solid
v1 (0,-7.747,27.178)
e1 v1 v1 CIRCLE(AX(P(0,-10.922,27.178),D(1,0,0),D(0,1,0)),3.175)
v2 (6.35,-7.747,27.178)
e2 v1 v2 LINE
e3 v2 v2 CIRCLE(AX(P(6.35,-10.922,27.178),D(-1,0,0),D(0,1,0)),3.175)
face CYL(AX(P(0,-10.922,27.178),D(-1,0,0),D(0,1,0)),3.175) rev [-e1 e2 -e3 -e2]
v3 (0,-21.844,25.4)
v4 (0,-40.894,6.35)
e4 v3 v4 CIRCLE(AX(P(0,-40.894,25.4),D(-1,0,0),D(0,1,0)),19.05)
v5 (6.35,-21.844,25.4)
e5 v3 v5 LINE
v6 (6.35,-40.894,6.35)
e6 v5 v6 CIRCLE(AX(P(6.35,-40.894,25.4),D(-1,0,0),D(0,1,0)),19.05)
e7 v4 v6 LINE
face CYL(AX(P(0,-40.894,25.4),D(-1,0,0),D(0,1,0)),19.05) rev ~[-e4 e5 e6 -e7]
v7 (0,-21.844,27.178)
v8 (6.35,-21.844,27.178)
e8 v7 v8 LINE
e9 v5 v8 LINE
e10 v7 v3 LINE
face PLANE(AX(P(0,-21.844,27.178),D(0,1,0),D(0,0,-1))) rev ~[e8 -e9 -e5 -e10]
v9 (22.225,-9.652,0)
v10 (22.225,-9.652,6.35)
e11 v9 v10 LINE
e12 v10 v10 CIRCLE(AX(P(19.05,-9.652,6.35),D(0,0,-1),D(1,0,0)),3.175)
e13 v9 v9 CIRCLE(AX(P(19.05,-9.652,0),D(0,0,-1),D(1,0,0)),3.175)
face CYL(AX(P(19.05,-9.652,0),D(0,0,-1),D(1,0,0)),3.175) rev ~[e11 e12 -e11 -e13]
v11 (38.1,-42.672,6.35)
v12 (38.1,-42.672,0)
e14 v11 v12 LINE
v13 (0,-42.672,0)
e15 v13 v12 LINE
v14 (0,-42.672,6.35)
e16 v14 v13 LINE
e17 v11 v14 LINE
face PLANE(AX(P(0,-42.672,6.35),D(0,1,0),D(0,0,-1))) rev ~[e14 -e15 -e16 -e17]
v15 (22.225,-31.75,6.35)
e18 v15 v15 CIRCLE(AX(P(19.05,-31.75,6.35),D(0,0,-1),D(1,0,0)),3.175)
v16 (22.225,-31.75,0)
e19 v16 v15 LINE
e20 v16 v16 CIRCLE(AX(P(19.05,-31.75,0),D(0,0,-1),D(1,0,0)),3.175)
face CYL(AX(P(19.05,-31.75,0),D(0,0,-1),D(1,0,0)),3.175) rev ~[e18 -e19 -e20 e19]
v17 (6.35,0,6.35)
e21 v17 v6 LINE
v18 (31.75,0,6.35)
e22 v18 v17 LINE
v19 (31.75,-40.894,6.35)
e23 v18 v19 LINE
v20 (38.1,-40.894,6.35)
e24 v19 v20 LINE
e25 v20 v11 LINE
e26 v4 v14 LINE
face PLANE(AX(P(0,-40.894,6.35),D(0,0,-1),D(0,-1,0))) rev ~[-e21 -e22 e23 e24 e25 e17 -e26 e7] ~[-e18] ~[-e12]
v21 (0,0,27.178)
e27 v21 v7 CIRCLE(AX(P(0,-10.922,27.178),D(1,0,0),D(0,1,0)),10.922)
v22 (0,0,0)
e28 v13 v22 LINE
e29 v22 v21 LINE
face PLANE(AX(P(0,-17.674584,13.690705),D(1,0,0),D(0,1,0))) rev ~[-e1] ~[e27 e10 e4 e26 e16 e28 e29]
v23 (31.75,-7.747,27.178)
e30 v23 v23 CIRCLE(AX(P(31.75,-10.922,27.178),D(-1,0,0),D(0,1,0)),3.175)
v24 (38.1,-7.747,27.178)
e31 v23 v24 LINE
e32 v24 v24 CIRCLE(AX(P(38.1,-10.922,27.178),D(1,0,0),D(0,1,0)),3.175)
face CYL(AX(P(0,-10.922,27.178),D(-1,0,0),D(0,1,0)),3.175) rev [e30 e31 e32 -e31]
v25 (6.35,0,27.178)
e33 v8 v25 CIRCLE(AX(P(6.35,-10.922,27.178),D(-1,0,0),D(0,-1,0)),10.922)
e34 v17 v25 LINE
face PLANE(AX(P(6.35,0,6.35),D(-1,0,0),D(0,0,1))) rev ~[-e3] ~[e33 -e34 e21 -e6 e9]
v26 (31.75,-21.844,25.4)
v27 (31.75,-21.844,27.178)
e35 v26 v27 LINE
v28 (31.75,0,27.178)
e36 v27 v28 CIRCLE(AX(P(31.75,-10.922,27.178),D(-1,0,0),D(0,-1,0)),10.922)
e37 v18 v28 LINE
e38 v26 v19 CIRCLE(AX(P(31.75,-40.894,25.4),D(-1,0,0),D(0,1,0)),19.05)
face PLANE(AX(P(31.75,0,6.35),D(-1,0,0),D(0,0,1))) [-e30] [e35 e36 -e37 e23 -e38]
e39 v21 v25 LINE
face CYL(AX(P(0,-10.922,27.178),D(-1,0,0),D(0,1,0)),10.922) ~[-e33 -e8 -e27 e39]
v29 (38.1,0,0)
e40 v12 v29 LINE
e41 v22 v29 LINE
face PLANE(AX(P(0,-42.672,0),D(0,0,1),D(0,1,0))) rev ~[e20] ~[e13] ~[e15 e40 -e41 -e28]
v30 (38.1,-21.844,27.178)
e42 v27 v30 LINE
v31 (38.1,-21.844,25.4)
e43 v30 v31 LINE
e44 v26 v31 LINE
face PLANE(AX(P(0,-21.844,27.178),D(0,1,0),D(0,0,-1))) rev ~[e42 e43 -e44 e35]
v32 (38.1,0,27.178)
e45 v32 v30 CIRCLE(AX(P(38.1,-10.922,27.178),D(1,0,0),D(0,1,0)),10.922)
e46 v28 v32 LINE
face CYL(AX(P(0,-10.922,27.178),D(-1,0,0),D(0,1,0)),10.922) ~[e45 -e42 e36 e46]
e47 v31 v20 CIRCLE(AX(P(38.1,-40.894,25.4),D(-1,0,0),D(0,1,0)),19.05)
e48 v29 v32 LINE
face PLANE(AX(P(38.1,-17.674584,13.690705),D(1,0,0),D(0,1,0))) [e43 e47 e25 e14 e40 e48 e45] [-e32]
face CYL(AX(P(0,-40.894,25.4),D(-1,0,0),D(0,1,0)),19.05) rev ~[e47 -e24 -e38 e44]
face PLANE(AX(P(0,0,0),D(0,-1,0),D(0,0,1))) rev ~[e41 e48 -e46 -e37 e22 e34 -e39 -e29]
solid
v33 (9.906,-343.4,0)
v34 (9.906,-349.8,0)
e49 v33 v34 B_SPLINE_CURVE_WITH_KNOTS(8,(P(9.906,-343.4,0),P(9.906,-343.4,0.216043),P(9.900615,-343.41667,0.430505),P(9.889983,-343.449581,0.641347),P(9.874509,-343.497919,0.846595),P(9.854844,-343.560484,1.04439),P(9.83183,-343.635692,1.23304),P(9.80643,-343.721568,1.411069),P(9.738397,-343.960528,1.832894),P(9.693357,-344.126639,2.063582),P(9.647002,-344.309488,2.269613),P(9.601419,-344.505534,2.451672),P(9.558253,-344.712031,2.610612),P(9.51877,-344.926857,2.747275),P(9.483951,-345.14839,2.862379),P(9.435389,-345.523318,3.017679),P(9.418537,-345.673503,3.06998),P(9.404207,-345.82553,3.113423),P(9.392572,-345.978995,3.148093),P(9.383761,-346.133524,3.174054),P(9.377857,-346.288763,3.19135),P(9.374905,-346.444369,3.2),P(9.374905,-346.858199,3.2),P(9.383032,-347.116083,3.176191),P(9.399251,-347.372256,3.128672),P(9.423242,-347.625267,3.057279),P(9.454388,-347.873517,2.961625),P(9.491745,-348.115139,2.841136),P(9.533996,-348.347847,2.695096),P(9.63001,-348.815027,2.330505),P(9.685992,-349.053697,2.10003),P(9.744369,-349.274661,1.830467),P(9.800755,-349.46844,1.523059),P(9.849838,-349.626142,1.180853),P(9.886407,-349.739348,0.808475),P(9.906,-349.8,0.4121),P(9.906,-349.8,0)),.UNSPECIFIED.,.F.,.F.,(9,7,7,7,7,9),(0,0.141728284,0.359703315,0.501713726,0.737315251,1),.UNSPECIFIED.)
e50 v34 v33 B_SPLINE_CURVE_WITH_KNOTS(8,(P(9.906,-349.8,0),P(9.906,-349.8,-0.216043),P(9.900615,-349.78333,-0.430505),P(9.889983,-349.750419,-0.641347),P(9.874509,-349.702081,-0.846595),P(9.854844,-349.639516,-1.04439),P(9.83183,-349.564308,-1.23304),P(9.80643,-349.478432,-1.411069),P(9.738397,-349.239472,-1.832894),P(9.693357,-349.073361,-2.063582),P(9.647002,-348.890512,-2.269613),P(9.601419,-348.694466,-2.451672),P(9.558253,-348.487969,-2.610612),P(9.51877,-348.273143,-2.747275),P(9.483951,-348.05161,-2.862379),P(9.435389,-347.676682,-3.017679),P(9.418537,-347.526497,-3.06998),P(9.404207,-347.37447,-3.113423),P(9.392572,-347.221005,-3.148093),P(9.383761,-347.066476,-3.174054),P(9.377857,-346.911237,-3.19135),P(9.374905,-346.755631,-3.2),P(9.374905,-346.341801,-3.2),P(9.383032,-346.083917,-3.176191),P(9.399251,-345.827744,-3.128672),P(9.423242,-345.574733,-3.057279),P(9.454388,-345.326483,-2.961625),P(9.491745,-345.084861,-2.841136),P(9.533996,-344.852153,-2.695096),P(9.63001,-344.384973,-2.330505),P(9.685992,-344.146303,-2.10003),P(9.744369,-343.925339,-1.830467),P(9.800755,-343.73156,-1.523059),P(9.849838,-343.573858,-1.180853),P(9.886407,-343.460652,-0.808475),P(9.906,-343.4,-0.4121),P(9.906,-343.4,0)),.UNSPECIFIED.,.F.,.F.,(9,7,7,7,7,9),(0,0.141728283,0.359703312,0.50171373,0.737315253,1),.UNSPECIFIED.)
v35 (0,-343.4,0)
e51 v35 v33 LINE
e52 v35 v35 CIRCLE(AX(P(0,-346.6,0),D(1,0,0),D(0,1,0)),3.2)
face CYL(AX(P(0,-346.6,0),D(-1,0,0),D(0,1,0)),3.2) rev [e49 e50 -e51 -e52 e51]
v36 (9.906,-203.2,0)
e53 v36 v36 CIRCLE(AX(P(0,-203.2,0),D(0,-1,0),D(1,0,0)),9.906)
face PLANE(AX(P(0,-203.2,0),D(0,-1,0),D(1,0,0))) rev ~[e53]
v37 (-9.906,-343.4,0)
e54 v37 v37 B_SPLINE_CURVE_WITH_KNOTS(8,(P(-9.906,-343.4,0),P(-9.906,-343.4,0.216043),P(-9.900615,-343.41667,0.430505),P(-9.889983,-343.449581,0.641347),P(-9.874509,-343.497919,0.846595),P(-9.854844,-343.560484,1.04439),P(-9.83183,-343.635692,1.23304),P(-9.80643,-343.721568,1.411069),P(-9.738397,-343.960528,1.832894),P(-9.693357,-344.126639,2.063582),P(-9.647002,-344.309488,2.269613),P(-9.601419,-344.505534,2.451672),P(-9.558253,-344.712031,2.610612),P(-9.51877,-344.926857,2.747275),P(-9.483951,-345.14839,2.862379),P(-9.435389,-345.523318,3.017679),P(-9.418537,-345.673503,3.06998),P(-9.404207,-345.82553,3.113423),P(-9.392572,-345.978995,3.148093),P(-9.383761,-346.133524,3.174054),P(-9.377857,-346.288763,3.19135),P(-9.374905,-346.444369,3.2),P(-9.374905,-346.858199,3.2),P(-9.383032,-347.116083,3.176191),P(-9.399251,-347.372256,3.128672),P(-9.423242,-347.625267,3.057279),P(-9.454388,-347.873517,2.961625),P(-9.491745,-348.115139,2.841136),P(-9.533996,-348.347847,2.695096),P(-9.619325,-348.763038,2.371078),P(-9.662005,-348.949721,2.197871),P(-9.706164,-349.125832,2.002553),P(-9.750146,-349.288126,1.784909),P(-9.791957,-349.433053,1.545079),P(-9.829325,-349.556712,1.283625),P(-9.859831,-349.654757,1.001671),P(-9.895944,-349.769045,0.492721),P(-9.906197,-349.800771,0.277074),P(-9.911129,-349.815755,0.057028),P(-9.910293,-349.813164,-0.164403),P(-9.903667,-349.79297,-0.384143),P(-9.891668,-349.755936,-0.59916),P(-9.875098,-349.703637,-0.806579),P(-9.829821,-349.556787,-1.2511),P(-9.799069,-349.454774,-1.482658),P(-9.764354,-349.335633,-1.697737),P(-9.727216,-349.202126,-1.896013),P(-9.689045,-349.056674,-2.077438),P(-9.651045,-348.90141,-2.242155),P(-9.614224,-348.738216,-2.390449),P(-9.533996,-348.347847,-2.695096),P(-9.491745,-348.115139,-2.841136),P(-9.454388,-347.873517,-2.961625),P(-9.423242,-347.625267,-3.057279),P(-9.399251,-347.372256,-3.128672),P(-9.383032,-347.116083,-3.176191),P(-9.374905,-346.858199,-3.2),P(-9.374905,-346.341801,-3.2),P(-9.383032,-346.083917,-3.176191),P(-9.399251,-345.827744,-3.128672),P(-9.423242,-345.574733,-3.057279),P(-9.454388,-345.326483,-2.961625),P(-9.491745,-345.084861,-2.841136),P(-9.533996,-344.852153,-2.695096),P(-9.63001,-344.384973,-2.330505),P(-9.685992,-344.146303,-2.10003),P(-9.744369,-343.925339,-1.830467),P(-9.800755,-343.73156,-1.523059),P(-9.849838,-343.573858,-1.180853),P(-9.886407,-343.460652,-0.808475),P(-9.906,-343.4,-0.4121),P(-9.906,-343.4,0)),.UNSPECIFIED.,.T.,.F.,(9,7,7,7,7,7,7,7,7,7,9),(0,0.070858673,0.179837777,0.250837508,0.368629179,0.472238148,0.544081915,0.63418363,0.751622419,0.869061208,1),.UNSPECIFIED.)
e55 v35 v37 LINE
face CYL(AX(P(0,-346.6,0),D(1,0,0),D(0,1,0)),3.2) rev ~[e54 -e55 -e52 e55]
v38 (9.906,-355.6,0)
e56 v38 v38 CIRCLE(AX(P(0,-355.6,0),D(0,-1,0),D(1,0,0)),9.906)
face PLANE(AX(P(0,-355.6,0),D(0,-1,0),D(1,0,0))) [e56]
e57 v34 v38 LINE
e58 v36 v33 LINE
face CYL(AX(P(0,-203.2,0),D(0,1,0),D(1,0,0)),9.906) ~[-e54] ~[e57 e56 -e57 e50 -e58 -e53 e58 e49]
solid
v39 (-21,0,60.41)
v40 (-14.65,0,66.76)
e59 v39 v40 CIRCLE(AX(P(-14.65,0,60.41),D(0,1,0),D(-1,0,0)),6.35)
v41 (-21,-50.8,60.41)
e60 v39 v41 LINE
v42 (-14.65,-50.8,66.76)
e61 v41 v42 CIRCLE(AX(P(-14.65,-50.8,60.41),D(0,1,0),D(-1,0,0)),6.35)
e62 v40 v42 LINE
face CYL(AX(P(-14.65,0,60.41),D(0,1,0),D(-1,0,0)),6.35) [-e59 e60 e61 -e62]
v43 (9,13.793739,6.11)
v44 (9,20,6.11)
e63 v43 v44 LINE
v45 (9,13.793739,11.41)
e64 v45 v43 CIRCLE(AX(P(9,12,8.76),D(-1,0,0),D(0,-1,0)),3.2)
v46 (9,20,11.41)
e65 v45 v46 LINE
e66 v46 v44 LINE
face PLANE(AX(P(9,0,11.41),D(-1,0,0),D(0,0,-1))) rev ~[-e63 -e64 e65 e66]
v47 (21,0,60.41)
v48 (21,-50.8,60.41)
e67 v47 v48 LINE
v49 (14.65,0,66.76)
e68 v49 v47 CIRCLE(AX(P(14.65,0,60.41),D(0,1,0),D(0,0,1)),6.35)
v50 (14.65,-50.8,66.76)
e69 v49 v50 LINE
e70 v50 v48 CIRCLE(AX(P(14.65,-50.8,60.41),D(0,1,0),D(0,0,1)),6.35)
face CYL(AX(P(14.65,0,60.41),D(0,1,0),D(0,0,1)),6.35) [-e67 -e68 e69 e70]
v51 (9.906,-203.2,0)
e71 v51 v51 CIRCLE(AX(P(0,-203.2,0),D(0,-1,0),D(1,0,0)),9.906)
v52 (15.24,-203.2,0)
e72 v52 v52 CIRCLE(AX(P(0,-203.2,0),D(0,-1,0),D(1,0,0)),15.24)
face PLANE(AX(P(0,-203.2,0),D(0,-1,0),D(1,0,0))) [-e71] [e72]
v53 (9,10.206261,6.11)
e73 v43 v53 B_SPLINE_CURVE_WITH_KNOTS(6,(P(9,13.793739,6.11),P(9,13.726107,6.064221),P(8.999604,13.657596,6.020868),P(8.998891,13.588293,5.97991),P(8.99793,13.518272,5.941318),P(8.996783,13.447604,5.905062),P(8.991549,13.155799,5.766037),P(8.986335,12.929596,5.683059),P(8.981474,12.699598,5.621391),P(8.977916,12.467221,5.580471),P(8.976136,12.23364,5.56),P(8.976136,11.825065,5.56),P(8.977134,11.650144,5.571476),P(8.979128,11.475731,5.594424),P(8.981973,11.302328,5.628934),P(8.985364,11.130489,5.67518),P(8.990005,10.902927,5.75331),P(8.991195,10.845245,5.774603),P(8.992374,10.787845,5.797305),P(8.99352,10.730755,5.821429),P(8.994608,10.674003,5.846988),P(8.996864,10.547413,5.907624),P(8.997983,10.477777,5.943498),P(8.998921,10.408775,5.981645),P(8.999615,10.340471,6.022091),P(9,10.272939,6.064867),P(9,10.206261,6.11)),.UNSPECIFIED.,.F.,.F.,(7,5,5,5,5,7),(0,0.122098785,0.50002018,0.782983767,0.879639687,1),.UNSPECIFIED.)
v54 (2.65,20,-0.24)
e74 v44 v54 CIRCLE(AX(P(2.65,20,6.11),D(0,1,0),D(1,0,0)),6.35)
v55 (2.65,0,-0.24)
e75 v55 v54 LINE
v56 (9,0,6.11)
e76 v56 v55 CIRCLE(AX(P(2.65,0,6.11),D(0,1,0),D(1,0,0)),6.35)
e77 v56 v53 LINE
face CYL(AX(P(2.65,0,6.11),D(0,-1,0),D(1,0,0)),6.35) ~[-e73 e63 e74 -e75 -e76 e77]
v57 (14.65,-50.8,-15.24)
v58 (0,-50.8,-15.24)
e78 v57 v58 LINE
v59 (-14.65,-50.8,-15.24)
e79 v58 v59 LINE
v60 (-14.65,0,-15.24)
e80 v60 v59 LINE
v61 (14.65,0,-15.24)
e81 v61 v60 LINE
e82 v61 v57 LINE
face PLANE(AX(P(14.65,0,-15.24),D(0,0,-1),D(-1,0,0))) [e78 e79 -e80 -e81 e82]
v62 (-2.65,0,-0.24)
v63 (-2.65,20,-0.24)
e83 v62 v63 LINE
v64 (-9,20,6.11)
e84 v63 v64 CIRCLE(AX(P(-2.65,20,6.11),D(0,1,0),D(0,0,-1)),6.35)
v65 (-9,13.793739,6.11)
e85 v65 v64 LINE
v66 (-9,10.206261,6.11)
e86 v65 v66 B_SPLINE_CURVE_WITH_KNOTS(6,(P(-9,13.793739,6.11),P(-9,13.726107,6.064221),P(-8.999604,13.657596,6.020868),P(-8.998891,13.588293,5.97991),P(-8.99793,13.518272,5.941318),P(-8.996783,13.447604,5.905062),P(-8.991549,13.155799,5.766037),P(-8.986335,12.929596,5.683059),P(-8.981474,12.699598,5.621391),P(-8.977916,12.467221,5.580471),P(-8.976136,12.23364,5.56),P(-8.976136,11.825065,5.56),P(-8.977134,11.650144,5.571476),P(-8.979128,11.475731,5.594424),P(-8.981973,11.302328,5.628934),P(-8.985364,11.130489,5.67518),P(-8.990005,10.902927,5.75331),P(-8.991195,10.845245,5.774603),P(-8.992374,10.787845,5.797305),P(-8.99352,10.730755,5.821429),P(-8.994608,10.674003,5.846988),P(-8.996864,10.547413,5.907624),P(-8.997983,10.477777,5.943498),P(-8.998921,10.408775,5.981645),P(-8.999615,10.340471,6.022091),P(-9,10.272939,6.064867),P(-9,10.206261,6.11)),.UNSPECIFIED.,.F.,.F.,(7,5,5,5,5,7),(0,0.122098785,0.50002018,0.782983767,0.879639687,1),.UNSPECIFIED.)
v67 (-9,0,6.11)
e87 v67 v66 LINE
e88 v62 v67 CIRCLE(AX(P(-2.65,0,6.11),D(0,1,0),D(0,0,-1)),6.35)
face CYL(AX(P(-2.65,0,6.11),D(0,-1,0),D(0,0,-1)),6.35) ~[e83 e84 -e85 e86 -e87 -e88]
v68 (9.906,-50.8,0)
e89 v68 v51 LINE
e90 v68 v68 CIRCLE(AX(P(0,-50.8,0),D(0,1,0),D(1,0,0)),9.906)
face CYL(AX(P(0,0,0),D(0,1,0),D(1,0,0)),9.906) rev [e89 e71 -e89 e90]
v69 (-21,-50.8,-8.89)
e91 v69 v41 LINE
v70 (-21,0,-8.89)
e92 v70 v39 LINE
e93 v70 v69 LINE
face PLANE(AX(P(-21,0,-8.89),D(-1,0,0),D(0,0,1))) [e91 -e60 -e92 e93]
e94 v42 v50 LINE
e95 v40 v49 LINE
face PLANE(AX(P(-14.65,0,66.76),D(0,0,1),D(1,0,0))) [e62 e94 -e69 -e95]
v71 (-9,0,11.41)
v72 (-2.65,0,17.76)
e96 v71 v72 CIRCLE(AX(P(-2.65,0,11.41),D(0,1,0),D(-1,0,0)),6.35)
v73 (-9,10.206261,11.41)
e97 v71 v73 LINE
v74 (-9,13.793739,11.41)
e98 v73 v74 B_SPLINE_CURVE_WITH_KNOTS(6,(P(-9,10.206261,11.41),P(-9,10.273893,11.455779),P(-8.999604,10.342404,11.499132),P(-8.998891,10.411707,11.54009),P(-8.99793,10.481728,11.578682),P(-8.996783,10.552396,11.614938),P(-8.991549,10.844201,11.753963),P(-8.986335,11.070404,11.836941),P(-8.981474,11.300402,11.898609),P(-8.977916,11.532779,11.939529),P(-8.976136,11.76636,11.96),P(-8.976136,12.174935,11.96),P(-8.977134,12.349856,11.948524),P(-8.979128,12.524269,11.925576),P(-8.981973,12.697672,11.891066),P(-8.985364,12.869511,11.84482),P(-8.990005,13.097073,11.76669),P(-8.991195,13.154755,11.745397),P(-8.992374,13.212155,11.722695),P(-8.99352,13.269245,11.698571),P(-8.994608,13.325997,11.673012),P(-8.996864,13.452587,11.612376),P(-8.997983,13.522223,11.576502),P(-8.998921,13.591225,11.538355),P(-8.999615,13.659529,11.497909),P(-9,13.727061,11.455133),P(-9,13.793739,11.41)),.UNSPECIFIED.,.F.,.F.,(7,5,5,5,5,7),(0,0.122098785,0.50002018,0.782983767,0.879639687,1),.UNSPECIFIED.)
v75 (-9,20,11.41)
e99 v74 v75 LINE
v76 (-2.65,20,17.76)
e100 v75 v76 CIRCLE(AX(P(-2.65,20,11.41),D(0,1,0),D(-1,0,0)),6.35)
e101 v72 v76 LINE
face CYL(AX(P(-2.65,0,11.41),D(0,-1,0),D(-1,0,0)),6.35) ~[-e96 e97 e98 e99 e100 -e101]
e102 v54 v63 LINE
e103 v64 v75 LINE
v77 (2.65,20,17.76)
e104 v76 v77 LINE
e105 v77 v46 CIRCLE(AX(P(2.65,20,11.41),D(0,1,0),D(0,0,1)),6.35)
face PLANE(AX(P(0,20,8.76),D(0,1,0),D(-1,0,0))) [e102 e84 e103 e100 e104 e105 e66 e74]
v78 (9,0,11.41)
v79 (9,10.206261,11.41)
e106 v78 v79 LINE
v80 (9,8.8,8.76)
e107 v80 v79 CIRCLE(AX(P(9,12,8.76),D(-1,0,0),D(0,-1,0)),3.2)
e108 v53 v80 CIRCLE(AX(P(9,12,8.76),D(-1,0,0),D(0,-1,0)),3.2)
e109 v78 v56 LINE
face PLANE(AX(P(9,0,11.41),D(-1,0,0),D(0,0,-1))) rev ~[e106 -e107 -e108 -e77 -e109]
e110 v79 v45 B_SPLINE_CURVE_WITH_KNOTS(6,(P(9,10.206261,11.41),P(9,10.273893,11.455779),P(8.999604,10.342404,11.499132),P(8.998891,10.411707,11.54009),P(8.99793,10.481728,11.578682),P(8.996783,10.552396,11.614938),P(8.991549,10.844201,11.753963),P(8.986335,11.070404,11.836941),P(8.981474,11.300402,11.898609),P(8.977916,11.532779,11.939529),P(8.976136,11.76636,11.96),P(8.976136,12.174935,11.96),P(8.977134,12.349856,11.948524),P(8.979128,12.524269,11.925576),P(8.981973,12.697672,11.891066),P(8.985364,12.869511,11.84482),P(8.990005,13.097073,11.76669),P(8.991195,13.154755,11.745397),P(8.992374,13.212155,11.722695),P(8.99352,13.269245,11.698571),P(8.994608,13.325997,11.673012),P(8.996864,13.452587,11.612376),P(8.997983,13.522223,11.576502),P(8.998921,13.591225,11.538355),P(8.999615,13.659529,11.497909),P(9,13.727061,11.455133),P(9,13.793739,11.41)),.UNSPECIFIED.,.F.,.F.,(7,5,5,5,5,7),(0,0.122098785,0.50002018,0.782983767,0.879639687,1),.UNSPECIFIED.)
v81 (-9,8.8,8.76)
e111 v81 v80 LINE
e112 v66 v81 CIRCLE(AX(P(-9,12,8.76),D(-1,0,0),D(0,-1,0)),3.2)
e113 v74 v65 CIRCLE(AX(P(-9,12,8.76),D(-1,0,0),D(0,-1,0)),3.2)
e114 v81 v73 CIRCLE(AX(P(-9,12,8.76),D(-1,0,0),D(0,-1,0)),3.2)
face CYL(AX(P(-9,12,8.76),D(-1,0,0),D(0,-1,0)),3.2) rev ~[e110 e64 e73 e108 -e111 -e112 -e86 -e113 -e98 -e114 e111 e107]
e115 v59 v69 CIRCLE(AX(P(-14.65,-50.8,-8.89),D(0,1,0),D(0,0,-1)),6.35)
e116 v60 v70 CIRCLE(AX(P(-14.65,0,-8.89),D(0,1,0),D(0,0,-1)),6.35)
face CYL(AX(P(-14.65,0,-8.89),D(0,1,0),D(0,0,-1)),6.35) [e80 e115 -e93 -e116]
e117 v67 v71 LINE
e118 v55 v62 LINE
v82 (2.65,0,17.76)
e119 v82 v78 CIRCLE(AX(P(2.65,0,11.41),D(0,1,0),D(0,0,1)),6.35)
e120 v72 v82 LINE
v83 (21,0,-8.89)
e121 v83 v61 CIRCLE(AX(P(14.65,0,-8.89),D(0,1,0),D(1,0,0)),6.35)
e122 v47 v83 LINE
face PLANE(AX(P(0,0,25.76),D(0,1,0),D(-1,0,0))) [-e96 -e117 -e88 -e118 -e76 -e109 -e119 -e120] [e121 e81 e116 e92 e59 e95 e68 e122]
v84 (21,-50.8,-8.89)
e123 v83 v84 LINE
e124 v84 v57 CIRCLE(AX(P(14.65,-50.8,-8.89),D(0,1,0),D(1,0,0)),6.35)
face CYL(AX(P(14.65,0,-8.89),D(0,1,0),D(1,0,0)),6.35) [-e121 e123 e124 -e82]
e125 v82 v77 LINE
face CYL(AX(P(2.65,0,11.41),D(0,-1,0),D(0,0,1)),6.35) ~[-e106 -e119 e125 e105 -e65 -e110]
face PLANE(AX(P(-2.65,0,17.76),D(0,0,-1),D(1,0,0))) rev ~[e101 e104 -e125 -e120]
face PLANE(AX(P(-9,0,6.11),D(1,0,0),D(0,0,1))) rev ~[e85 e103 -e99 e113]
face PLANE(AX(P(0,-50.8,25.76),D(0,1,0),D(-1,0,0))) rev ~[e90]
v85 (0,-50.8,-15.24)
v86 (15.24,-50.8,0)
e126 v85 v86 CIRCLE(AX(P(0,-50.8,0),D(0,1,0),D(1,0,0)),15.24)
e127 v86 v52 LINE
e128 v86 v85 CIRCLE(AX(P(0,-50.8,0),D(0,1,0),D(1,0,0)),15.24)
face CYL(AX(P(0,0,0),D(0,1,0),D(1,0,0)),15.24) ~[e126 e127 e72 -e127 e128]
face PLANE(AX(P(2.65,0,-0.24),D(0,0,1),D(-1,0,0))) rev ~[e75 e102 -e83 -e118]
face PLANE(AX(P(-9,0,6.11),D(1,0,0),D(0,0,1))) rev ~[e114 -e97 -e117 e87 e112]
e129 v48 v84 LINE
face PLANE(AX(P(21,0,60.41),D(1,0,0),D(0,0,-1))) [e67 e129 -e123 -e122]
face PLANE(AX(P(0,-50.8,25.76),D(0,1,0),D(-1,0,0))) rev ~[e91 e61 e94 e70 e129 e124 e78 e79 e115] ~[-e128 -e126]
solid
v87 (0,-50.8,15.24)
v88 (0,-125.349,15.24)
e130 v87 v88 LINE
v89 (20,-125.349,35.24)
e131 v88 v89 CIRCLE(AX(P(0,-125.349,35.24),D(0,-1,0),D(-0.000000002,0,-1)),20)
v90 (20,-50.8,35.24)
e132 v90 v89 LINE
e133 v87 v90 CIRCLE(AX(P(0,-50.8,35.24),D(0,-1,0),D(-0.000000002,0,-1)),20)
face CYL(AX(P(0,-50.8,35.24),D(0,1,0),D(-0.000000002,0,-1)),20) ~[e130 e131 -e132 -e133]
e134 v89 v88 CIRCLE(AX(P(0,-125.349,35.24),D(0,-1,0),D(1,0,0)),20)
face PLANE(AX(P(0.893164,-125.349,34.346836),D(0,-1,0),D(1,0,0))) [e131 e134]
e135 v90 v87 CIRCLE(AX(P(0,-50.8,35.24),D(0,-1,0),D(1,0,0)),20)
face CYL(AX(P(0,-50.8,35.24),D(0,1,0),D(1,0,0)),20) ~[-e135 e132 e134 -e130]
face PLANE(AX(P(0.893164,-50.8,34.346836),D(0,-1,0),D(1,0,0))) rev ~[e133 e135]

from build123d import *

# Parameters (mm, degrees)
F0_R           = 15.24
F0_R_2         = 9.906
F1_DEPTH       = 203.2
F3_DEPTH       = 50.8
F5_DEPTH       = 20
F6_R           = 9.906
F7_DEPTH       = 152.4
F9_DEPTH       = 74.549
F11_R          = 3.2
F12_DEPTH      = 21.001
F12_DEPTH_BACK = 21.001
F13_R          = 3.2
F14_DEPTH      = 30.001
F15_R          = 3.175
F16_DEPTH      = 38.1
F17_W          = 25.4
F17_H          = 31.75
F18_DEPTH      = 355.6010001
F19_R          = 3.175
F20_DEPTH      = 66.761


with BuildPart() as f1:
    # F0 (on Front) → F1 (new body)
    with BuildSketch(Plane.XZ):
        Circle(F0_R)
        Circle(F0_R_2, mode=Mode.SUBTRACT)
    extrude(amount=F1_DEPTH)

    # F2 (on face) → F3 (join)
    with BuildSketch(Plane(origin=(0, 0, 0), x_dir=(-1, 0, 0), z_dir=(0, 1, 0))):
        with BuildLine():
            Line((14.65, 66.76), (-14.65, 66.76))
            ThreePointArc((-14.65, 66.76), (-19.1401280605, 64.9001280605), (-21, 60.41))
            Line((-21, 60.41), (-21, -8.89))
            ThreePointArc((-21, -8.89), (-19.1401280605, -13.3801280605), (-14.65, -15.24))
            Line((-14.65, -15.24), (14.65, -15.24))
            ThreePointArc((14.65, -15.24), (19.1401280605, -13.3801280605), (21, -8.89))
            Line((21, -8.89), (21, 60.41))
            ThreePointArc((21, 60.41), (19.1401280605, 64.9001280605), (14.65, 66.76))
        make_face()
    extrude(amount=-F3_DEPTH)

    # F4 (on face) → F5 (join)
    with BuildSketch(Plane(origin=(0, 0, 0), x_dir=(-1, 0, 0), z_dir=(0, 1, 0))):
        with BuildLine():
            Line((2.65, 17.76), (-2.65, 17.76))
            ThreePointArc((-2.65, 17.76), (-7.1401280605, 15.9001280605), (-9, 11.41))
            Line((-9, 11.41), (-9, 6.11))
            ThreePointArc((-9, 6.11), (-7.1401280605, 1.6198719395), (-2.65, -0.24))
            Line((-2.65, -0.24), (2.65, -0.24))
            ThreePointArc((2.65, -0.24), (7.1401280605, 1.6198719395), (9, 6.11))
            Line((9, 6.11), (9, 11.41))
            ThreePointArc((9, 11.41), (7.1401280605, 15.9001280605), (2.65, 17.76))
        make_face()
    extrude(amount=F5_DEPTH)

    # F13 (on face) → F14 (cut, through all)
    with BuildSketch(Plane(origin=(-9, 0, 0), x_dir=(0, -1, 0), z_dir=(-1, 0, 0))):
        with Locations((-12, 8.76)):
            Circle(F13_R)
    extrude(amount=-F14_DEPTH, mode=Mode.SUBTRACT)


with BuildPart() as f7:
    # F6 (on face) → F7 (new body)
    with BuildSketch(Plane.XZ.offset(203.2)):
        Circle(F6_R)
    extrude(amount=F7_DEPTH)

    # F11 (on face) → F12 (cut, two sides)
    with BuildSketch(Plane.YZ) as f12_sk:
        with Locations((-346.6, 0)):
            Circle(F11_R)
    extrude(amount=-F12_DEPTH, mode=Mode.SUBTRACT)
    extrude(f12_sk.sketch, amount=F12_DEPTH_BACK, mode=Mode.SUBTRACT)


with BuildPart() as f9:
    # F8 (on face) → F9 (new body)
    with BuildSketch(Plane.XZ.offset(50.8)):
        with BuildLine():
            ThreePointArc((-3.43e-08, 15.24), (14.1421356116, 21.0978643641), (20, 35.24))
            ThreePointArc((20, 35.24), (-14.1421356116, 49.3821356359), (-3.43e-08, 15.24))
        make_face()
    extrude(amount=F9_DEPTH)


with BuildPart() as f16:
    # F15 (on Right) → F16 (new body)
    with BuildSketch(Plane.YZ):
        with BuildLine():
            Line((-42.672, 0), (0, 0))
            Line((0, 0), (0, 27.178))
            ThreePointArc((0, 27.178), (-10.922, 38.1), (-21.844, 27.178))
            Line((-21.844, 27.178), (-21.844, 25.4))
            ThreePointArc((-21.844, 25.4), (-27.4236158184, 11.9296158184), (-40.894, 6.35))
            Line((-40.894, 6.35), (-42.672, 6.35))
            Line((-42.672, 6.35), (-42.672, 0))
        make_face()
        with Locations((-10.922, 27.178)):
            Circle(F15_R, mode=Mode.SUBTRACT)
    extrude(amount=F16_DEPTH)

    # F17 (on face) → F18 (cut, through all)
    with BuildSketch(Plane(origin=(0, 0, 0), x_dir=(-1, 0, 0), z_dir=(0, 1, 0))):
        with Locations((-19.05, 22.225)):
            Rectangle(F17_W, F17_H)
    extrude(amount=-F18_DEPTH, mode=Mode.SUBTRACT)

    # F19 (on face) → F20 (cut, through all)
    with BuildSketch(Plane(origin=(0, 0, 0), x_dir=(1, 0, 0), z_dir=(0, 0, -1))):
        with Locations((19.05, 9.652)):
            Circle(F19_R)
        with Locations((19.05, 31.75)):
            Circle(F19_R)
    extrude(amount=-F20_DEPTH, mode=Mode.SUBTRACT)


solid = Compound([f1.part, f7.part, f9.part, f16.part])
